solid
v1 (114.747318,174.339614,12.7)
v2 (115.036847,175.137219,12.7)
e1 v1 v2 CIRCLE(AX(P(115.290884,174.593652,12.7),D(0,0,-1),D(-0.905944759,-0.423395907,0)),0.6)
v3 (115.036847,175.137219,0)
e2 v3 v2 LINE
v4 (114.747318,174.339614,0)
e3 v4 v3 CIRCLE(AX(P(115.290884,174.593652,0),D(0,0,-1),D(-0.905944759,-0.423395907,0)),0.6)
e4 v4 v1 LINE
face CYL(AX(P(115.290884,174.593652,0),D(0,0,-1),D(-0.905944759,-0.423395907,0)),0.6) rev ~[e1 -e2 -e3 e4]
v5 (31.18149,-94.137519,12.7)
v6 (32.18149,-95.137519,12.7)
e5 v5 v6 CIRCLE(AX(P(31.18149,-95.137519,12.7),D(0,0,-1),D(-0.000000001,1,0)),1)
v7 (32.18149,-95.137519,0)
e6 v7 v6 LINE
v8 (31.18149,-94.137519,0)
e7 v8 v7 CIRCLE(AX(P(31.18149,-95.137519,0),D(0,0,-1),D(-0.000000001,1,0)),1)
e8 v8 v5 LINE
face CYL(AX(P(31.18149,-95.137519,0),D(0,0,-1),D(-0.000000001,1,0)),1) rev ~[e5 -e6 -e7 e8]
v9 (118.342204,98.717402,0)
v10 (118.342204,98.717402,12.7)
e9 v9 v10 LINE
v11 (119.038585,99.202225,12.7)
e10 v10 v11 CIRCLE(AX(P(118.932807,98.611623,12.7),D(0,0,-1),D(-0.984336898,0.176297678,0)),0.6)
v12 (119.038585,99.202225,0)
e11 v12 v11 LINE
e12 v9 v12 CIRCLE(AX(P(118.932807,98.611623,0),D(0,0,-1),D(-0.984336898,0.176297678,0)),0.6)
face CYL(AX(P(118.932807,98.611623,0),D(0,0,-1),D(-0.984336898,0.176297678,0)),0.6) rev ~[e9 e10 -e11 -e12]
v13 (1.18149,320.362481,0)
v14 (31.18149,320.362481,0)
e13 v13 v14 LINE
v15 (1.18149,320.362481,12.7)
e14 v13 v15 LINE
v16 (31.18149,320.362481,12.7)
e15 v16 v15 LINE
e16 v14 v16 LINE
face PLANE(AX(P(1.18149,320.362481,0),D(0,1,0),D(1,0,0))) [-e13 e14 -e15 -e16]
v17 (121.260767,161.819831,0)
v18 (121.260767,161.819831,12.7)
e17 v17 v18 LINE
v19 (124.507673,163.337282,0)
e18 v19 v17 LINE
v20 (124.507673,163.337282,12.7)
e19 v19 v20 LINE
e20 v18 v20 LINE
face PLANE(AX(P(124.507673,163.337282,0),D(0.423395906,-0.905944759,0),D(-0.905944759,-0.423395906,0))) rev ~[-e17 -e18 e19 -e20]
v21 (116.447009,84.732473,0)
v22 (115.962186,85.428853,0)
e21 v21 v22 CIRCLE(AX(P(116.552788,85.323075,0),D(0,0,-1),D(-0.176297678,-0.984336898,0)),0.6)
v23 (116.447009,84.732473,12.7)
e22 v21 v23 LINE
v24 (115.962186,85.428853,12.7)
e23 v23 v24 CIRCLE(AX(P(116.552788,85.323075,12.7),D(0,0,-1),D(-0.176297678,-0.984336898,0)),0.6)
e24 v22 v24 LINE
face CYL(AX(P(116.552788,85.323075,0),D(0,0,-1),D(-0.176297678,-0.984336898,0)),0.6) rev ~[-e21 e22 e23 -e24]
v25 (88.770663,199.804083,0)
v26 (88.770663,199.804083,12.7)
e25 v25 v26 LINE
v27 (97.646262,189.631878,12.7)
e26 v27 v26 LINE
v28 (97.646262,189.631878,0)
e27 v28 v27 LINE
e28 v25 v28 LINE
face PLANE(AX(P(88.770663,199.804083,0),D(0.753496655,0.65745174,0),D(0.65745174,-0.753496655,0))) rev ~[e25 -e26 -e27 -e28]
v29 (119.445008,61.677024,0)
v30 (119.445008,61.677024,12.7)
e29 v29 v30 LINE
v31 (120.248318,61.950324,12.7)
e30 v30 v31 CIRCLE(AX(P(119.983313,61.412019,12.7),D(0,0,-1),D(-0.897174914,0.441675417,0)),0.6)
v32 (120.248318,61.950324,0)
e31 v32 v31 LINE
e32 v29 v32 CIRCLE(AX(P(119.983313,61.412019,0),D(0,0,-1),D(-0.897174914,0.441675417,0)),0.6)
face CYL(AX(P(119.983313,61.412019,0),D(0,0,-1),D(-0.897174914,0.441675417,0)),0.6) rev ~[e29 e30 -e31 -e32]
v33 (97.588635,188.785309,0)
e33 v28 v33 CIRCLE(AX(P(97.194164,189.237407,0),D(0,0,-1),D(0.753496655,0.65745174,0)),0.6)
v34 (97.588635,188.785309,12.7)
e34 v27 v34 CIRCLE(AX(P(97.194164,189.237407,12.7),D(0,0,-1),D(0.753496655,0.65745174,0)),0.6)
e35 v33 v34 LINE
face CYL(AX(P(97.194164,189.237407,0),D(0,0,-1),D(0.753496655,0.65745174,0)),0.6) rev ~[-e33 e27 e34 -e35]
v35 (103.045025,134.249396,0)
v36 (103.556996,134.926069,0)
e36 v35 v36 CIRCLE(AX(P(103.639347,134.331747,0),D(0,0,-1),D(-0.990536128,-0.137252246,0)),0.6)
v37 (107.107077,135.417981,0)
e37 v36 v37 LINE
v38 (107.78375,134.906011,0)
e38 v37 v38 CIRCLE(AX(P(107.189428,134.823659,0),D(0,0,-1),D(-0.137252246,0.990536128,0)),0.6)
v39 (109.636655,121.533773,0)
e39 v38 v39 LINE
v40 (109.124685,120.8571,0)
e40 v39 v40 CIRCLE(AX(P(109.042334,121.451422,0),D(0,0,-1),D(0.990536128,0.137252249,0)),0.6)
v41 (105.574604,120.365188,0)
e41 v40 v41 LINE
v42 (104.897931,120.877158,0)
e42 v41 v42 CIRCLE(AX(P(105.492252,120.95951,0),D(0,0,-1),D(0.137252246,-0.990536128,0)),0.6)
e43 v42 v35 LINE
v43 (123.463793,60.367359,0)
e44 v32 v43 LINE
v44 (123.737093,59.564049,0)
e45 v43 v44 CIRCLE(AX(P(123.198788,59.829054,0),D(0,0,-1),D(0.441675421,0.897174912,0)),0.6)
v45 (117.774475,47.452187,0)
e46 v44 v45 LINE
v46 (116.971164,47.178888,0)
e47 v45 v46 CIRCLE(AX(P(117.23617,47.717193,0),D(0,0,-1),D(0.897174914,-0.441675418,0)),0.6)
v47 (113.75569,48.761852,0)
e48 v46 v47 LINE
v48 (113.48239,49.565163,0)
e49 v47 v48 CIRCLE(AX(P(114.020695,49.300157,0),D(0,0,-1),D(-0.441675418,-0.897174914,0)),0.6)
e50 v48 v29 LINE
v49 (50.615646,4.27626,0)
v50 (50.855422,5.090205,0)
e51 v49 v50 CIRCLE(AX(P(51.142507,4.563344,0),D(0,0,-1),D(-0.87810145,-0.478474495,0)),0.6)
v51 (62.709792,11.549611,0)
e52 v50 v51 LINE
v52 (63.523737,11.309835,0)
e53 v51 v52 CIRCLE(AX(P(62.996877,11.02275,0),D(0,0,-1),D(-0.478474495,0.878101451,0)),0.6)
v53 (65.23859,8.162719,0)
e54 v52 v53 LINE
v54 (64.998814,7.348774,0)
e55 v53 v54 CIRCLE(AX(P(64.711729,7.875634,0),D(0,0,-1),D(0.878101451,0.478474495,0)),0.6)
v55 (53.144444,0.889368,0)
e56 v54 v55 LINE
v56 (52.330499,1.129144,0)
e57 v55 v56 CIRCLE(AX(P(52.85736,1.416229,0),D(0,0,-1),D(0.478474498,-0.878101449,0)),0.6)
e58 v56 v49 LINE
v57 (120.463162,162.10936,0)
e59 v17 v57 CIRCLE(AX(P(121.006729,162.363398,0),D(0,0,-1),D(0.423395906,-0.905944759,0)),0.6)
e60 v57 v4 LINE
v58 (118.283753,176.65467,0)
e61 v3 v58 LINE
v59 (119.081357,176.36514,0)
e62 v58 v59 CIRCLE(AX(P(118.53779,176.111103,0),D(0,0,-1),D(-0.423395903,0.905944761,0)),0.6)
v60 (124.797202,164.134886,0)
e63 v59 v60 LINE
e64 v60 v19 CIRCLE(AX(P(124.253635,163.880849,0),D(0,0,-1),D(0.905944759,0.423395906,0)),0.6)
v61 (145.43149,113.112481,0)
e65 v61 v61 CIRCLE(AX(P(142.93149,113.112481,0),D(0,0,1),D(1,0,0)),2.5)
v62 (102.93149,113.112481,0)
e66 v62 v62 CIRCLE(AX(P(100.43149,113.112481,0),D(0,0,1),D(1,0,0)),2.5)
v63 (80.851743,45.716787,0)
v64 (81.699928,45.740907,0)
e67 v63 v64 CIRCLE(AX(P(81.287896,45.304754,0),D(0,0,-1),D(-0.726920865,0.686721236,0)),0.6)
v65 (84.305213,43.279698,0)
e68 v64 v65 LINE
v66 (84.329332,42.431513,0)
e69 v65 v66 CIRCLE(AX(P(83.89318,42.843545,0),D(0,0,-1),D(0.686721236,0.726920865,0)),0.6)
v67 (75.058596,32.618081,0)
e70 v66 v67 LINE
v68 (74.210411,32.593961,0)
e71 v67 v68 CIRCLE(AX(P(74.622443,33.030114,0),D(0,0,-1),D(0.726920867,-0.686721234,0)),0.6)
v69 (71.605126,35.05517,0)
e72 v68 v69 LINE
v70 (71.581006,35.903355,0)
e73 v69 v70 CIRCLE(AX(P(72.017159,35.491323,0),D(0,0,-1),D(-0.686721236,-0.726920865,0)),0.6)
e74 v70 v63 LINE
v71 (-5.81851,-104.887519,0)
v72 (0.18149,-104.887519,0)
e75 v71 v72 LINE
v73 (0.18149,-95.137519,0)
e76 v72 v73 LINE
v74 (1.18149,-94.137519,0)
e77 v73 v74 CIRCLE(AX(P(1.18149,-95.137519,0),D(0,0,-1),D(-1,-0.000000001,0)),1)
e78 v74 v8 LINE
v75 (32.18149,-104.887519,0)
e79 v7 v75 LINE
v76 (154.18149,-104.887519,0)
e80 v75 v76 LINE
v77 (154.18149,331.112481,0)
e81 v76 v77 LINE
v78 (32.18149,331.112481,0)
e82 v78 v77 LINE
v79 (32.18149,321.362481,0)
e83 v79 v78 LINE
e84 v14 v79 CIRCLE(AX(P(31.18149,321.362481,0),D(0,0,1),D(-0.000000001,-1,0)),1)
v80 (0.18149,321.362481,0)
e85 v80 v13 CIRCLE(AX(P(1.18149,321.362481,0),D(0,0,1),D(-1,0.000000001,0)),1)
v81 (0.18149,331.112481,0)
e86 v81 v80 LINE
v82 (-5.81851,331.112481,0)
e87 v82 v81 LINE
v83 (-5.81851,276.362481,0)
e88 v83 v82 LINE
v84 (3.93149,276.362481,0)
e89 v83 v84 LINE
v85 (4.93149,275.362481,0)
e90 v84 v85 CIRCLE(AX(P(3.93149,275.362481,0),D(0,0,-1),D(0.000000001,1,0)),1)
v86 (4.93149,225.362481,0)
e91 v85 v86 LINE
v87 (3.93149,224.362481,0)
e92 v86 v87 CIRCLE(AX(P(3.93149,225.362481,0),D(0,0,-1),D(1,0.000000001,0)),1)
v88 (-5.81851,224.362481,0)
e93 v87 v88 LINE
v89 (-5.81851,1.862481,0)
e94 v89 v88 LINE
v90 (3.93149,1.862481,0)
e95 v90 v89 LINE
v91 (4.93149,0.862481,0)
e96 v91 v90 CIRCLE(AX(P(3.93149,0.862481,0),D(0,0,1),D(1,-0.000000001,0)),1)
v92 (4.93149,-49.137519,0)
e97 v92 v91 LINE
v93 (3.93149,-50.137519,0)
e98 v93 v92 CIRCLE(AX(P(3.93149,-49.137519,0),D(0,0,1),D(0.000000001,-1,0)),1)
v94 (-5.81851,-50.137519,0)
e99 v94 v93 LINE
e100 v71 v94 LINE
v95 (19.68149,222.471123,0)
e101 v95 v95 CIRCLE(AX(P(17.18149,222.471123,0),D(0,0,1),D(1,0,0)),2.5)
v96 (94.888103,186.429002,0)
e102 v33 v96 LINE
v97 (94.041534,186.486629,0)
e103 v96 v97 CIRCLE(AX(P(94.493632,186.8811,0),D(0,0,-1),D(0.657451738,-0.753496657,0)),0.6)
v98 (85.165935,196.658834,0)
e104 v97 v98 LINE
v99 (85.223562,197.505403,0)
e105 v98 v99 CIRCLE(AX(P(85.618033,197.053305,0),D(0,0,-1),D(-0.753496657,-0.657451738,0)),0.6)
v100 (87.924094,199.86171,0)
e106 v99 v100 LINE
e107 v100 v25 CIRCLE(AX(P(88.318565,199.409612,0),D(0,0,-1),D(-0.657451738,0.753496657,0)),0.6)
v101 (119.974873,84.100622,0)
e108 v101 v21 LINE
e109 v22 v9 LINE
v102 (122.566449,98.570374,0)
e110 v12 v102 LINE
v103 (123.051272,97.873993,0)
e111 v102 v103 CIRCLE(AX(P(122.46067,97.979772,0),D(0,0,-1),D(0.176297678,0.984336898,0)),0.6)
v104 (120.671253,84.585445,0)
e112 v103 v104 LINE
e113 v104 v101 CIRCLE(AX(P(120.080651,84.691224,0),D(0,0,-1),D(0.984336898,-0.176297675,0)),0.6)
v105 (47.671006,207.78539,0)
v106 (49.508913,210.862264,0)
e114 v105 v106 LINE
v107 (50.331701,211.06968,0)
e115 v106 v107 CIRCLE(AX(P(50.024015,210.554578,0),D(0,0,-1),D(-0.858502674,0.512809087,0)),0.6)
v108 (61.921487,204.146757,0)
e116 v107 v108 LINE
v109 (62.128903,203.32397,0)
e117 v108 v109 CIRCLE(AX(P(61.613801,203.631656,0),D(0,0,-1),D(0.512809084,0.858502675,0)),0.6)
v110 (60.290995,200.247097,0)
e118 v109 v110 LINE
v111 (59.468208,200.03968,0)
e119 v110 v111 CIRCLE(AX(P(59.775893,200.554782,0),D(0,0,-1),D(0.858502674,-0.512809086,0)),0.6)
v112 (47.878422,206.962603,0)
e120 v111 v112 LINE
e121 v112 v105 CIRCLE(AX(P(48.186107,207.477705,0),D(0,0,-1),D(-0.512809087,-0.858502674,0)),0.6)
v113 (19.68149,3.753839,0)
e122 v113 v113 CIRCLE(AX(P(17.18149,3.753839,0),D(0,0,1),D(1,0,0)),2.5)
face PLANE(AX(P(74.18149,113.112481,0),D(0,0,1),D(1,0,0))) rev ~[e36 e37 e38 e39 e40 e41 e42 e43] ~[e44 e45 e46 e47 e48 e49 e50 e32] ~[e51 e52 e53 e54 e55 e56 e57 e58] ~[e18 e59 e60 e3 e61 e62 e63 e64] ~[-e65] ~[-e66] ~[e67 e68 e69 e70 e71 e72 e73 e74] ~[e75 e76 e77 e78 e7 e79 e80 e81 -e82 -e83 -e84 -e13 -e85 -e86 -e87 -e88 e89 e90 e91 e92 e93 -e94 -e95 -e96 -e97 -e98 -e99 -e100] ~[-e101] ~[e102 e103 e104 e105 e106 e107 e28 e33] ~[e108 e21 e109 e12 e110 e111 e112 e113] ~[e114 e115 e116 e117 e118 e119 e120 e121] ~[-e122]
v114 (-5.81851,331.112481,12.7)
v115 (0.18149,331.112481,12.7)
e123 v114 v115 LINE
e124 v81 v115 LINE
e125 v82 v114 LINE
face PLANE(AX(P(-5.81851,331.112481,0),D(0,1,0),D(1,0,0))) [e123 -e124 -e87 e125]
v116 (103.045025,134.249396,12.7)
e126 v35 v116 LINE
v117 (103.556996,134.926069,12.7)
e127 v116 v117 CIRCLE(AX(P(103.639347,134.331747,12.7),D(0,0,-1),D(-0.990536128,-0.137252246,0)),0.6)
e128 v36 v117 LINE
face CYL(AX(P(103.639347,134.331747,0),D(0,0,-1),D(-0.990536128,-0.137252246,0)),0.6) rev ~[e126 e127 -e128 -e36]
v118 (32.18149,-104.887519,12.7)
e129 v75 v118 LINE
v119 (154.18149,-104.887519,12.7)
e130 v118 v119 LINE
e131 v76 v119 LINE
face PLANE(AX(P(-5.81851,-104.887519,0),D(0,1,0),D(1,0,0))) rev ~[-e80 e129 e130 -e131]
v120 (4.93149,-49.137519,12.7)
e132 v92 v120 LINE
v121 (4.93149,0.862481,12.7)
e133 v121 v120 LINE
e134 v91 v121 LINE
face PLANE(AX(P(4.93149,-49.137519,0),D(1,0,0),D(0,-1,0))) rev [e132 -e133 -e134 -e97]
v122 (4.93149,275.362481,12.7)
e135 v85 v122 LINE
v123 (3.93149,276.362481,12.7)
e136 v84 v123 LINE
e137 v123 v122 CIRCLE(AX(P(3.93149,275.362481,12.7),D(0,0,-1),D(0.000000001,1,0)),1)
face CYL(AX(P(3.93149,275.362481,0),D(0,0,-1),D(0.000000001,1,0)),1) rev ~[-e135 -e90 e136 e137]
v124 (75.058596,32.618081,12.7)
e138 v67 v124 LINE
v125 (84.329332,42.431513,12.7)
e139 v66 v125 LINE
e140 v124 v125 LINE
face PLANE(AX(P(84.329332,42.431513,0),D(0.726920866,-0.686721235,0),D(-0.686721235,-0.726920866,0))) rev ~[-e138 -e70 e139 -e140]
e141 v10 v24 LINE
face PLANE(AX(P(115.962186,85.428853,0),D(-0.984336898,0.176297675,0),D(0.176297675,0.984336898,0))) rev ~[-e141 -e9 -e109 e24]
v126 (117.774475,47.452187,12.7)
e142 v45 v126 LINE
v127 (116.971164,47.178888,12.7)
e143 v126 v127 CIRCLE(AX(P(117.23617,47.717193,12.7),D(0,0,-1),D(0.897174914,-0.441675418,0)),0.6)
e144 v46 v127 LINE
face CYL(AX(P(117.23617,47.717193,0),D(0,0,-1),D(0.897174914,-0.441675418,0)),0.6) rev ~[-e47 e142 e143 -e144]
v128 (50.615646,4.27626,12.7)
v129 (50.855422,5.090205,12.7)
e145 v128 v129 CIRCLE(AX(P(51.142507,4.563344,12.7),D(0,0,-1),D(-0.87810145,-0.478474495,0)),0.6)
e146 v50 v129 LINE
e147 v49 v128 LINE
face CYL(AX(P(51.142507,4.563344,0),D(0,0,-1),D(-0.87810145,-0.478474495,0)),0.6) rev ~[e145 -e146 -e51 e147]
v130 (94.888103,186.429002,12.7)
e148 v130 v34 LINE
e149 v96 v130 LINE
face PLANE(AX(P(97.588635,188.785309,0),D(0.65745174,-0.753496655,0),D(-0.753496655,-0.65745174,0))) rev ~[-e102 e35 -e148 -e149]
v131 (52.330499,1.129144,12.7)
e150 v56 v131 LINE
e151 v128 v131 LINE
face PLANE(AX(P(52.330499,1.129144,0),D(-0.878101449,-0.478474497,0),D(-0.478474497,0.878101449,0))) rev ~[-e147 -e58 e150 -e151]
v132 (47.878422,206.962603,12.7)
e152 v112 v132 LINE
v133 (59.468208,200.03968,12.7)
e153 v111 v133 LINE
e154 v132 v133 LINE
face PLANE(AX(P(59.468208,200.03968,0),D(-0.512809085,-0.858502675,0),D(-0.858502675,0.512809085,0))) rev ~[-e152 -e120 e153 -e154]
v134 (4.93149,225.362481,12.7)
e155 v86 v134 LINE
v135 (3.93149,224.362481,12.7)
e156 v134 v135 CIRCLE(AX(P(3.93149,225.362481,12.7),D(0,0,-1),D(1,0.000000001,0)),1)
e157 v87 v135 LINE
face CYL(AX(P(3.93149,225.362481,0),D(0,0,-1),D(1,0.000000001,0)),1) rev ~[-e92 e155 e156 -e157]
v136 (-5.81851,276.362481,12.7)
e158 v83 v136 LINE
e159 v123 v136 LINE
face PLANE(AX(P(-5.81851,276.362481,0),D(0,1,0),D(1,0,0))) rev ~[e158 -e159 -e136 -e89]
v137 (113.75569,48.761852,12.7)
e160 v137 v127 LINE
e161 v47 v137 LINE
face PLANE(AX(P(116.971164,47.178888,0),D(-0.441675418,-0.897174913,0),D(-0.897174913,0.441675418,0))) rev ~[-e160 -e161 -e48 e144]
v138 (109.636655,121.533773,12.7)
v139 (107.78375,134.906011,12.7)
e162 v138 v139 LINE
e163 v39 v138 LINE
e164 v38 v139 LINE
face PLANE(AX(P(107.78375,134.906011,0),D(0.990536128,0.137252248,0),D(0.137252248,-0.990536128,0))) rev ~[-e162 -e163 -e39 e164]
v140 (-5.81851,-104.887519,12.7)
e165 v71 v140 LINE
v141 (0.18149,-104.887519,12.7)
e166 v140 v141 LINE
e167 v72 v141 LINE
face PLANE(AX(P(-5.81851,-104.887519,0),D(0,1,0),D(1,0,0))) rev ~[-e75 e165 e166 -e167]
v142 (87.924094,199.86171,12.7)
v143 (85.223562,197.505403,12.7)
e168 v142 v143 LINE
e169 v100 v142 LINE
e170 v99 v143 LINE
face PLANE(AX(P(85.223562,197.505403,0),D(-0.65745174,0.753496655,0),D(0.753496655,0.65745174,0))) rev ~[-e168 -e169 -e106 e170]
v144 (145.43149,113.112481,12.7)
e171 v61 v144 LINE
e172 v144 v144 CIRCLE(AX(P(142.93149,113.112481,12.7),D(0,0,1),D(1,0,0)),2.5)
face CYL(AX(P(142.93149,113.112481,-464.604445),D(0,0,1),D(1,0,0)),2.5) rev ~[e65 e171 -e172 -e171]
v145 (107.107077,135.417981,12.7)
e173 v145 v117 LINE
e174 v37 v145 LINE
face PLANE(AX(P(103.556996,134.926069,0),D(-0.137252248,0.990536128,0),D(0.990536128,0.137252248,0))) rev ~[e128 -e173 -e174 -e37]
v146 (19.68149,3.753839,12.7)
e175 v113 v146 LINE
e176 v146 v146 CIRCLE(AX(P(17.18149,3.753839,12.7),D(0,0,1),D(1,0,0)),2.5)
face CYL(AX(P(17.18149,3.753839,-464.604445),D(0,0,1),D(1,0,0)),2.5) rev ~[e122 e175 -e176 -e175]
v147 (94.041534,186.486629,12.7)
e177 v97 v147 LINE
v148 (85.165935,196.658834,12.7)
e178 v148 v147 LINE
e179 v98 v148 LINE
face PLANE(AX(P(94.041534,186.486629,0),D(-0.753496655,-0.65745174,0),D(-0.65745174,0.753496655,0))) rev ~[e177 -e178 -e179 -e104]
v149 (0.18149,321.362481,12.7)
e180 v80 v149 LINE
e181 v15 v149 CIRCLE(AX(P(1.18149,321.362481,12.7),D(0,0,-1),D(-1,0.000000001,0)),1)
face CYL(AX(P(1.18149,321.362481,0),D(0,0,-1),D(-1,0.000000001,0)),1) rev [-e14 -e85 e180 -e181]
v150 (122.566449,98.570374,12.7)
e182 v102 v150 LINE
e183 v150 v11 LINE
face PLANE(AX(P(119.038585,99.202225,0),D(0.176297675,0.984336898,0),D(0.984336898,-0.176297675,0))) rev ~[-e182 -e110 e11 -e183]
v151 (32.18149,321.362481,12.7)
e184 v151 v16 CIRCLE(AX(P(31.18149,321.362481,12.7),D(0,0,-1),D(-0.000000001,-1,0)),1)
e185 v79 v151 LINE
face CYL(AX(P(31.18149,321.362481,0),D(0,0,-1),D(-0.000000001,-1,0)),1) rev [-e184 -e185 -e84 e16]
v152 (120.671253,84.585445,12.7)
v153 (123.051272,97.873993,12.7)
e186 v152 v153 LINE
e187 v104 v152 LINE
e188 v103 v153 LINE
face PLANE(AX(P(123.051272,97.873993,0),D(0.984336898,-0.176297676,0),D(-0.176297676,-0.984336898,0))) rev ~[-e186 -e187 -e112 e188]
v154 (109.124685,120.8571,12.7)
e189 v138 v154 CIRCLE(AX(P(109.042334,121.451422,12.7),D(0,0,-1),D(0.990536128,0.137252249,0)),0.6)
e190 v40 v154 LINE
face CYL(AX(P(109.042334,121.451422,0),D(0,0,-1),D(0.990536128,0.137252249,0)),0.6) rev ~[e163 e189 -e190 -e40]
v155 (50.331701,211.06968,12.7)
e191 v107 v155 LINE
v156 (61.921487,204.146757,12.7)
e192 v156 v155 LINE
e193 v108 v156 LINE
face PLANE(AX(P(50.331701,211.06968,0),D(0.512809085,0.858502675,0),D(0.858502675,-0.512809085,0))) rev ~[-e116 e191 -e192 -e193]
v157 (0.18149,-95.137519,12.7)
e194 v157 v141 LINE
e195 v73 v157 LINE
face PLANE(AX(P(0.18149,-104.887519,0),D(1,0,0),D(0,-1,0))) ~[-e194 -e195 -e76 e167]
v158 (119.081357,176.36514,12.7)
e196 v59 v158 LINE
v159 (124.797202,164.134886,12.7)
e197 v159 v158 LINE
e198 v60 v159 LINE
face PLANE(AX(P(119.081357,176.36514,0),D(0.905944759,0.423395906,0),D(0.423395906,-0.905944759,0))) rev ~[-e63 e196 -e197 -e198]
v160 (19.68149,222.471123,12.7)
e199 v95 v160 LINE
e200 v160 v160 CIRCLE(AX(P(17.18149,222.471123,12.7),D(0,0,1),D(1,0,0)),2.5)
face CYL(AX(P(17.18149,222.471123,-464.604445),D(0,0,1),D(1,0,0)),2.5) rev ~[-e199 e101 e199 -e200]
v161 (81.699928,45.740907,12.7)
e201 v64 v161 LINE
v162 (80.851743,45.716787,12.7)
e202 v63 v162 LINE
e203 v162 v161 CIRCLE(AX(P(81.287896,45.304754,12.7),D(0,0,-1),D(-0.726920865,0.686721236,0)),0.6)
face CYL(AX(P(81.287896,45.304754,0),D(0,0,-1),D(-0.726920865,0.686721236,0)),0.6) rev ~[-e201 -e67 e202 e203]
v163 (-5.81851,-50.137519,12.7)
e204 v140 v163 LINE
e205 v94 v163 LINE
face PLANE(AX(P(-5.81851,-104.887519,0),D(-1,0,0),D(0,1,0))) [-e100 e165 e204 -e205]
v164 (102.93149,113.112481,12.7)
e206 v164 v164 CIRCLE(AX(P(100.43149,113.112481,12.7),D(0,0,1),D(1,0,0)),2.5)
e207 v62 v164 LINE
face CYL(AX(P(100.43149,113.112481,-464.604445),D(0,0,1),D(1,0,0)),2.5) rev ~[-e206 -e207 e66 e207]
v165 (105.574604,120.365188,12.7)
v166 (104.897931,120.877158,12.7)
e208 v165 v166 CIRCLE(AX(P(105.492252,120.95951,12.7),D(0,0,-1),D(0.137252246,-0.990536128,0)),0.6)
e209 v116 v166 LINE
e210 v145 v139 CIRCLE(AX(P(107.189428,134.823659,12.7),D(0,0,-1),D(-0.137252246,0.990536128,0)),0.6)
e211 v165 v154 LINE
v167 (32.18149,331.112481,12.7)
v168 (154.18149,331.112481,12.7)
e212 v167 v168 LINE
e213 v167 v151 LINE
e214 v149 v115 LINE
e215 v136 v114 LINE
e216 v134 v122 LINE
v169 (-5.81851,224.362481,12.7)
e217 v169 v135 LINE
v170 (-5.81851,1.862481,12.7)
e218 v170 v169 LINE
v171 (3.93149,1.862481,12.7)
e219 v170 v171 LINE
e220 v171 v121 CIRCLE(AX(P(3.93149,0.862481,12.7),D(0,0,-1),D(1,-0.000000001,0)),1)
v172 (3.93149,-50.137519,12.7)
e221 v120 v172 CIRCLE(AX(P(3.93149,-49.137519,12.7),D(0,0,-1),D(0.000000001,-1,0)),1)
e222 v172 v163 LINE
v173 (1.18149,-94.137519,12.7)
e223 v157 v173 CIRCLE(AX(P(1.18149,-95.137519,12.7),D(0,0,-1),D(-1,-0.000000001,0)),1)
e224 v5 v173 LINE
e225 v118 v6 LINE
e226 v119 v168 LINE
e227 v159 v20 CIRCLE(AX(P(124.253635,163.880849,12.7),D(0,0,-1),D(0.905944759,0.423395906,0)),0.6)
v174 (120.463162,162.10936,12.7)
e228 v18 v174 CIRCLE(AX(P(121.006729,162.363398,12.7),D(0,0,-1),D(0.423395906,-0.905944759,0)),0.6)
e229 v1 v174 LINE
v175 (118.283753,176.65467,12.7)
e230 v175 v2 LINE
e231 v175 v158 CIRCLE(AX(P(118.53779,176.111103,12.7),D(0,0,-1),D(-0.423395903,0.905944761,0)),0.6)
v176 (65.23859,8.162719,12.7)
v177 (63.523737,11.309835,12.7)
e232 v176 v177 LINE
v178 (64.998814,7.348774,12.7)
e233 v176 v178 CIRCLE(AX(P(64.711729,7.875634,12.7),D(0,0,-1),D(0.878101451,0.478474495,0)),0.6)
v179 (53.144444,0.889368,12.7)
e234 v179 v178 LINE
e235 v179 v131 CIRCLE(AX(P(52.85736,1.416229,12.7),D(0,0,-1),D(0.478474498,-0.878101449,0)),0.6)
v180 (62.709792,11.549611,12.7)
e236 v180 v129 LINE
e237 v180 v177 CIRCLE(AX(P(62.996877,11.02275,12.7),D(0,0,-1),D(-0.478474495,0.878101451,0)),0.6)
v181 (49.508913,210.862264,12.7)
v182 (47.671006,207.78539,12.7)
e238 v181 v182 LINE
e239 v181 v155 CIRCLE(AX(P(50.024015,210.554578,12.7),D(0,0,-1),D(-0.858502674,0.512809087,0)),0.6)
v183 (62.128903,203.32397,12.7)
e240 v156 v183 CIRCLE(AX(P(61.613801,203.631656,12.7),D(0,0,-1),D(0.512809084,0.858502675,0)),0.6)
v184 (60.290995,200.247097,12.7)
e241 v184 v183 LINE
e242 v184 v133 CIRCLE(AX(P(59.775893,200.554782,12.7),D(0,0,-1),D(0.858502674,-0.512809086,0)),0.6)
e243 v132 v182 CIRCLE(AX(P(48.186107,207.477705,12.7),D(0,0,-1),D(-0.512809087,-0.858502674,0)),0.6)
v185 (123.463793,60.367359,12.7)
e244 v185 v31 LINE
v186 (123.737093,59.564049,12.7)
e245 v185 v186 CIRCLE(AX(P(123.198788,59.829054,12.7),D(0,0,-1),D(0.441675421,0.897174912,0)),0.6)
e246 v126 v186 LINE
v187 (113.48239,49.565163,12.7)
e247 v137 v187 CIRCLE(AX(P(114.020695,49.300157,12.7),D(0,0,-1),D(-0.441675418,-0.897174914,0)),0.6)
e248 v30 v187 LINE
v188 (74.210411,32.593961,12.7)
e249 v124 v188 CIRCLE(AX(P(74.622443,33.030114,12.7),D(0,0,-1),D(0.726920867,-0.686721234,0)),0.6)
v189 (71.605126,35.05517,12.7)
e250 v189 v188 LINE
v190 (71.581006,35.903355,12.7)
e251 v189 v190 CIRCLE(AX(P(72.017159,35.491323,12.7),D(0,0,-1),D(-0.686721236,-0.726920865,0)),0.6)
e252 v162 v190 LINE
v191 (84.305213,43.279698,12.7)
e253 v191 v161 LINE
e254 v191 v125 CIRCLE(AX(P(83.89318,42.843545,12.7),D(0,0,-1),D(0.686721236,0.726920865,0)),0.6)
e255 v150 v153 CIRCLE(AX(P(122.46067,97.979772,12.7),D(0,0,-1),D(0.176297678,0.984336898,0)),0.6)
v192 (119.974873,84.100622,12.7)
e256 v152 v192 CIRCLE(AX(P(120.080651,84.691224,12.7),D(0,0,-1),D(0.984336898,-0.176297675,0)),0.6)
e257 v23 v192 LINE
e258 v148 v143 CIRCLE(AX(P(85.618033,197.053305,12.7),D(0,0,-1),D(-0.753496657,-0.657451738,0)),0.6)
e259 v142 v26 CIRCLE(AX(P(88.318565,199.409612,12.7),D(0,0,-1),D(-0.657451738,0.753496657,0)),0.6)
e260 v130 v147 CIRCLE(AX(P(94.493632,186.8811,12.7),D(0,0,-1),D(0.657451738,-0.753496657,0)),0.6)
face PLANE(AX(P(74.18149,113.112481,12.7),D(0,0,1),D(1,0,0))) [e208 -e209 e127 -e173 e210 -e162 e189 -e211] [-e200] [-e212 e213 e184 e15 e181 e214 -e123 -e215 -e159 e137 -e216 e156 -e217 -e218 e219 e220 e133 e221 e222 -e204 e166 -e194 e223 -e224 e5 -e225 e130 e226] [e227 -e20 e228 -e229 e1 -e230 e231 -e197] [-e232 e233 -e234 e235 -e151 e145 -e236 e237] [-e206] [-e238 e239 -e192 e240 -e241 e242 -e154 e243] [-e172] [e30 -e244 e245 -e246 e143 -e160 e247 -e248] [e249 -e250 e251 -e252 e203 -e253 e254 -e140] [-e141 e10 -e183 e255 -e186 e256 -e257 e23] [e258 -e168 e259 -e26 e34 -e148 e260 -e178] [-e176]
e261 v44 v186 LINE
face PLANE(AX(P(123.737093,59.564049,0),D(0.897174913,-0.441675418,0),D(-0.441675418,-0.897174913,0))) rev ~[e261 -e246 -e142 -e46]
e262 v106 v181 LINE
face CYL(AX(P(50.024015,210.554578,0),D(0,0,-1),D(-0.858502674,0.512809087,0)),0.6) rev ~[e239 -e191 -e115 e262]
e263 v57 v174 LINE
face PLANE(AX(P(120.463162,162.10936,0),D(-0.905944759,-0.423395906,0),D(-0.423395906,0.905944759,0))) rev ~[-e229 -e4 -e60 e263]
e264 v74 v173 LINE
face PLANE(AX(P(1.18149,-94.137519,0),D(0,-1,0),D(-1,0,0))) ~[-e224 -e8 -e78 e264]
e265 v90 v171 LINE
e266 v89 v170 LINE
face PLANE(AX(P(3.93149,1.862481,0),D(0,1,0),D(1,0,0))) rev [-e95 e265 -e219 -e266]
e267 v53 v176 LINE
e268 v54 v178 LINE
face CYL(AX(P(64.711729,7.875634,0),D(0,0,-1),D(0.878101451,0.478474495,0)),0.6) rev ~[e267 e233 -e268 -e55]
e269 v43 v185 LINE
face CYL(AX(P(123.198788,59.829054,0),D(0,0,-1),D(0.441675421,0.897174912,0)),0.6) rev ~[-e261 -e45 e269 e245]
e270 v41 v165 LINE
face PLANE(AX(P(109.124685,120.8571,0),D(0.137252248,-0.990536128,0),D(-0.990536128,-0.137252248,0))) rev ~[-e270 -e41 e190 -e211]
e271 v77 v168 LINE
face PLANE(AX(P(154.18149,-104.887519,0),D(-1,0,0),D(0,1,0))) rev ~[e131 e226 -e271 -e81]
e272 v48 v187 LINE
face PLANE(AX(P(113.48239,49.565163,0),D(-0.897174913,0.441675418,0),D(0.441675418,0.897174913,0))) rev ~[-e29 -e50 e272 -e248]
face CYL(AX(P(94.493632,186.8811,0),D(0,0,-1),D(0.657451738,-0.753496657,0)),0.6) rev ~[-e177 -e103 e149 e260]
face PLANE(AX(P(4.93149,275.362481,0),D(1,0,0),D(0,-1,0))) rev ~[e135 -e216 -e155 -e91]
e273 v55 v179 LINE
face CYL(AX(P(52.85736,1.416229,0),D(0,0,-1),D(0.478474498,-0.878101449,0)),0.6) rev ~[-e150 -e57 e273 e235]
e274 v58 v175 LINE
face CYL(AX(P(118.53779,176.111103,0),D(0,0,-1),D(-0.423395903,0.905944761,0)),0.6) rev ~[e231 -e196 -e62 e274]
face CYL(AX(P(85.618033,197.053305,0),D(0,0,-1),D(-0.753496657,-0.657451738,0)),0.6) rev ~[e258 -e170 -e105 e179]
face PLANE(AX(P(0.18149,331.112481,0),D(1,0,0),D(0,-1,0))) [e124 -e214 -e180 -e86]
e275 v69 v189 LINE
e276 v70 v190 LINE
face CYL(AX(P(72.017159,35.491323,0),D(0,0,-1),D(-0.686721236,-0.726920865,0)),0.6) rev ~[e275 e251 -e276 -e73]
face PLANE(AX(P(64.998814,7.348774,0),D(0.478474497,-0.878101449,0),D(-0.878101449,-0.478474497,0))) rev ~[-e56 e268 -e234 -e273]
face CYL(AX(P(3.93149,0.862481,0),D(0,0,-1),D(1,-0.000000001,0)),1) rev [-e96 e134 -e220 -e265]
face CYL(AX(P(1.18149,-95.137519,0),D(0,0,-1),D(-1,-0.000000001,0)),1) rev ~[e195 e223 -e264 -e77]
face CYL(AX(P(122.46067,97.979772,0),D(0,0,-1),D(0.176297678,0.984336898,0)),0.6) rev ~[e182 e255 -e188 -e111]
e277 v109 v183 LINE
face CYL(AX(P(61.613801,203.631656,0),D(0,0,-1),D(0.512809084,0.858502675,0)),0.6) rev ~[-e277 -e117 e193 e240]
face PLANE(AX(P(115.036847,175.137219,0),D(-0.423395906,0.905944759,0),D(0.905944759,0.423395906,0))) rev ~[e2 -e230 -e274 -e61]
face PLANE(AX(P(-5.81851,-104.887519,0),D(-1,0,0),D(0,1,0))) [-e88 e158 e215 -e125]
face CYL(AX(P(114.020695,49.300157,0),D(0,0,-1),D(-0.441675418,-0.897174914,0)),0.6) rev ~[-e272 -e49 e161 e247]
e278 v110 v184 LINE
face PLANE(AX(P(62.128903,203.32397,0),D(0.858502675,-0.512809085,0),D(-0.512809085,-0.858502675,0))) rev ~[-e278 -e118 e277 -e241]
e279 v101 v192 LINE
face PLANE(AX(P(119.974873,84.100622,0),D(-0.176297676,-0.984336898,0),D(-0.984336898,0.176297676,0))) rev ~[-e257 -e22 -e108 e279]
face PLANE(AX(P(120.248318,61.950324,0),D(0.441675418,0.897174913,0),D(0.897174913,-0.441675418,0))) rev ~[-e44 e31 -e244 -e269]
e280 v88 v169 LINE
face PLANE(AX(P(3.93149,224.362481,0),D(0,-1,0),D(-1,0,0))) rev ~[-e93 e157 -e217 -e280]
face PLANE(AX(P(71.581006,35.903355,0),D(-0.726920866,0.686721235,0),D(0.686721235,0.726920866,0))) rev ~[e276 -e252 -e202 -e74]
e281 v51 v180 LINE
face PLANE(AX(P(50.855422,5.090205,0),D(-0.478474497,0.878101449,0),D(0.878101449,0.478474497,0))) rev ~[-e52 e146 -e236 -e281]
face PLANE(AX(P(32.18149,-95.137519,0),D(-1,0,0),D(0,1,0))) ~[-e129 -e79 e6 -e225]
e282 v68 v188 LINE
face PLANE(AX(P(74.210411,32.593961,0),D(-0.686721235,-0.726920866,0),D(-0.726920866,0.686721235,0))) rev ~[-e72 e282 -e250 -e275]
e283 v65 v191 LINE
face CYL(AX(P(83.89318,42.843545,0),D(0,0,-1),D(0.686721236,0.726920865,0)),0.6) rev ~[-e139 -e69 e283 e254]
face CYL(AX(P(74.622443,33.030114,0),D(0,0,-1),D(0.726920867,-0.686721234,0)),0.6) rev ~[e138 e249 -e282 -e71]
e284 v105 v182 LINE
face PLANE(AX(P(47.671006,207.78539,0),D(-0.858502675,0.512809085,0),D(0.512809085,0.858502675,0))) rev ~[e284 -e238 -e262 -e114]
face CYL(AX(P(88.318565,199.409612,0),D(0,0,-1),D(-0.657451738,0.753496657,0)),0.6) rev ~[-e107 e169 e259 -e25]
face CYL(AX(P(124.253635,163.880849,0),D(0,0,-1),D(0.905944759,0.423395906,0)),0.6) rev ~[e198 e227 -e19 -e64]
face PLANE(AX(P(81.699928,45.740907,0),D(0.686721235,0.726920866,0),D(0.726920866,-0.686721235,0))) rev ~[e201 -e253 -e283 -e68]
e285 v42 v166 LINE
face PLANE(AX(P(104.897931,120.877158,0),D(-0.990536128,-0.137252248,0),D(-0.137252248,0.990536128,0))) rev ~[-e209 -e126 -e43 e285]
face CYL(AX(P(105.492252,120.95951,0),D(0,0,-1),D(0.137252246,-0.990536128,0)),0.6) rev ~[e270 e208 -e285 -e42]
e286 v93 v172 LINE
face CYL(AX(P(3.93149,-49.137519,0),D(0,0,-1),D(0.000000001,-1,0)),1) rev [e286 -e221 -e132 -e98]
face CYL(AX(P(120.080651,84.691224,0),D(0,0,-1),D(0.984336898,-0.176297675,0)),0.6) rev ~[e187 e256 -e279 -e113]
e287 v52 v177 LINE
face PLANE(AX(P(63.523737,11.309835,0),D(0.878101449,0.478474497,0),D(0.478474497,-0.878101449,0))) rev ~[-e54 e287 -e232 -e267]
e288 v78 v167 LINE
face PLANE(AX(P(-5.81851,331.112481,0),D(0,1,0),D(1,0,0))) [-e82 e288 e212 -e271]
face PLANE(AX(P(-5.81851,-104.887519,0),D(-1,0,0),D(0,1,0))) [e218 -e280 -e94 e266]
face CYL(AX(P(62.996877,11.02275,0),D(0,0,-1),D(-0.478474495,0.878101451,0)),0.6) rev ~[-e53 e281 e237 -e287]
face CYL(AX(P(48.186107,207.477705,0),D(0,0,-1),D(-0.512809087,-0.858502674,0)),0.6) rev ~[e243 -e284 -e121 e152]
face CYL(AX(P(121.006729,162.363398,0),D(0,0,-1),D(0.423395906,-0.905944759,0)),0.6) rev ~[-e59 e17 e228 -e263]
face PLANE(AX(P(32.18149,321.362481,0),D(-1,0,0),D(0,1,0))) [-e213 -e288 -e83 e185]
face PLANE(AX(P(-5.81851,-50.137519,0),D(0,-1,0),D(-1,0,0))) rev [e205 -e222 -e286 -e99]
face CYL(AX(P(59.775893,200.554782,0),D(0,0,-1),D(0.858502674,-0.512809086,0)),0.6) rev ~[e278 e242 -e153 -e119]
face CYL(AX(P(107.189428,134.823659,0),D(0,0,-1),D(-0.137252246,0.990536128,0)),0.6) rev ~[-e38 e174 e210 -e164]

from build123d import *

# Parameters (mm, degrees)
SKETCH1_W                = 160
SKETCH1_H                = 436
BOSS_EXTRUDE1_DEPTH      = 12.7
CUT_EXTRUDE1_DEPTH       = 366.47051465
CIRPATTERN1_COUNT        = 3
CIRPATTERN1_ANGLE        = 102.52
CUT_EXTRUDE2_DEPTH       = 366.47051465
CIRPATTERN2_COUNT        = 2
CIRPATTERN2_ANGLE        = 51.26
F_5_0_5_DIAMETER_HOLE1_D = 5
CUT_EXTRUDE3_DEPTH       = 366.47051465


with BuildPart() as part:
    # Sketch1 → Boss-Extrude1 (new body)
    with BuildSketch(Plane.XY):
        with Locations((74.181489842, 113.112481294)):
            Rectangle(SKETCH1_W, SKETCH1_H)
    extrude(amount=BOSS_EXTRUDE1_DEPTH)

    # Sketch3 → Cut-Extrude1 (cut, through all)
    with BuildSketch(Plane(origin=(0, 0, 0), x_dir=(-1, 0, 0), z_dir=(0, 0, -1))):
        with BuildLine():
            Line((-59.468207995, 200.039680409), (-47.878421887, 206.962603057))
            ThreePointArc((-47.878421887, 206.962603057), (-47.604309032, 207.331039293), (-47.671005734, 207.785390113))
            Line((-47.671005734, 207.785390113), (-49.508913494, 210.862263699))
            ThreePointArc((-49.508913494, 210.862263699), (-49.87734973, 211.136376554), (-50.33170055, 211.069679852))
            Line((-50.33170055, 211.069679852), (-61.921486657, 204.146757205))
            ThreePointArc((-61.921486657, 204.146757205), (-62.195599513, 203.778320969), (-62.128902811, 203.323970149))
            Line((-62.128902811, 203.323970149), (-60.29099505, 200.247096563))
            ThreePointArc((-60.29099505, 200.247096563), (-59.922558815, 199.972983708), (-59.468207995, 200.039680409))
        make_face()
        with BuildLine():
            Line((-94.041533827, 186.486629291), (-85.165935337, 196.658834137))
            ThreePointArc((-85.165935337, 196.658834137), (-85.019418624, 197.094053588), (-85.223562287, 197.505403175))
            Line((-85.223562287, 197.505403175), (-87.924094299, 199.861710211))
            ThreePointArc((-87.924094299, 199.861710211), (-88.35931375, 200.008226924), (-88.770663336, 199.804083262))
            Line((-88.770663336, 199.804083262), (-97.646261826, 189.631878415))
            ThreePointArc((-97.646261826, 189.631878415), (-97.79277854, 189.196658964), (-97.588634877, 188.785309377))
            Line((-97.588634877, 188.785309377), (-94.888102864, 186.429002341))
            ThreePointArc((-94.888102864, 186.429002341), (-94.452883414, 186.282485628), (-94.041533827, 186.486629291))
        make_face()
    cut_extrude1 = extrude(amount=-CUT_EXTRUDE1_DEPTH, mode=Mode.SUBTRACT)

    # CirPattern1: Cut-Extrude1 ×3 about axis
    cirpattern1_axis = Axis((-0.318510158, 113.112481294, 0), (0, 0, -1))
    for i in range(1, CIRPATTERN1_COUNT):
        add(cut_extrude1.rotate(cirpattern1_axis, i * CIRPATTERN1_ANGLE / (CIRPATTERN1_COUNT - 1)), mode=Mode.SUBTRACT)

    # Sketch4 → Cut-Extrude2 (cut, through all)
    with BuildSketch(Plane(origin=(0, 0, 0), x_dir=(-1, 0, 0), z_dir=(0, 0, -1))):
        with BuildLine():
            Line((-124.50767277, 163.337281817), (-121.260766753, 161.81983089))
            ThreePointArc((-121.260766753, 161.81983089), (-120.80200107, 161.799406266), (-120.463162354, 162.109360202))
            Line((-120.463162354, 162.109360202), (-114.747317623, 174.339614451))
            ThreePointArc((-114.747317623, 174.339614451), (-114.726892999, 174.798380135), (-115.036846934, 175.13721885))
            Line((-115.036846934, 175.13721885), (-118.283752952, 176.654669778))
            ThreePointArc((-118.283752952, 176.654669778), (-118.742518635, 176.675094401), (-119.081357351, 176.365140466))
            Line((-119.081357351, 176.365140466), (-124.797202082, 164.134886216))
            ThreePointArc((-124.797202082, 164.134886216), (-124.817626706, 163.676120533), (-124.50767277, 163.337281817))
        make_face()
    cut_extrude2 = extrude(amount=-CUT_EXTRUDE2_DEPTH, mode=Mode.SUBTRACT)

    # CirPattern2: Cut-Extrude2 ×2 about axis
    cirpattern2_axis = Axis((-0.318510158, 113.112481294, 0), (0, 0, -1))
    for i in range(1, CIRPATTERN2_COUNT):
        add(cut_extrude2.rotate(cirpattern2_axis, i * CIRPATTERN2_ANGLE / (CIRPATTERN2_COUNT - 1)), mode=Mode.SUBTRACT)

    # Ø5.0 (5) Diameter Hole1 (through all)
    with Locations(Plane(origin=(0, 0, 0), x_dir=(-1, 0, 0), z_dir=(0, 0, -1))):
        with Locations((-142.931489842, 113.112481294)):
            f_5_0_5_diameter_hole1 = Hole(F_5_0_5_DIAMETER_HOLE1_D / 2)

    # Sketch-Pattern9: Ø5.0 (5) Diameter Hole1 at 3 more places
    with Locations((-42.5, 0, 0), (-125.75, 109.358642, 0), (-125.75, -109.358642, 0)):
        add(f_5_0_5_diameter_hole1, mode=Mode.SUBTRACT)

    # Sketch9 → Cut-Extrude3 (cut, through all)
    with BuildSketch(Plane(origin=(0, 0, 0), x_dir=(-1, 0, 0), z_dir=(0, 0, -1))):
        with BuildLine():
            Line((5.818510158, 276.362481294), (-3.931489842, 276.362481294))
            ThreePointArc((-3.931489842, 276.362481294), (-4.638596623, 276.069588075), (-4.931489842, 275.362481294))
            Line((-4.931489842, 275.362481294), (-4.931489842, 225.362481294))
            ThreePointArc((-4.931489842, 225.362481294), (-4.638596623, 224.655374512), (-3.931489842, 224.362481294))
            Line((-3.931489842, 224.362481294), (5.818510158, 224.362481294))
            Line((5.818510158, 224.362481294), (5.818510158, 276.362481294))
        make_face()
        with BuildLine():
            Line((-32.181489842, 331.112481294), (-0.181489842, 331.112481294))
            Line((-0.181489842, 331.112481294), (-0.181489842, 321.362481294))
            ThreePointArc((-0.181489842, 321.362481294), (-0.474383061, 320.655374512), (-1.181489842, 320.362481294))
            Line((-1.181489842, 320.362481294), (-31.181489842, 320.362481294))
            ThreePointArc((-31.181489842, 320.362481294), (-31.888596623, 320.655374512), (-32.181489842, 321.362481294))
            Line((-32.181489842, 321.362481294), (-32.181489842, 331.112481294))
        make_face()
    cut_extrude3 = extrude(amount=-CUT_EXTRUDE3_DEPTH, mode=Mode.SUBTRACT)

    # Mirror1: Cut-Extrude3 across plane
    add(cut_extrude3.mirror(Plane.ZX.offset(113.112481294)), mode=Mode.SUBTRACT)


solid = part.part
